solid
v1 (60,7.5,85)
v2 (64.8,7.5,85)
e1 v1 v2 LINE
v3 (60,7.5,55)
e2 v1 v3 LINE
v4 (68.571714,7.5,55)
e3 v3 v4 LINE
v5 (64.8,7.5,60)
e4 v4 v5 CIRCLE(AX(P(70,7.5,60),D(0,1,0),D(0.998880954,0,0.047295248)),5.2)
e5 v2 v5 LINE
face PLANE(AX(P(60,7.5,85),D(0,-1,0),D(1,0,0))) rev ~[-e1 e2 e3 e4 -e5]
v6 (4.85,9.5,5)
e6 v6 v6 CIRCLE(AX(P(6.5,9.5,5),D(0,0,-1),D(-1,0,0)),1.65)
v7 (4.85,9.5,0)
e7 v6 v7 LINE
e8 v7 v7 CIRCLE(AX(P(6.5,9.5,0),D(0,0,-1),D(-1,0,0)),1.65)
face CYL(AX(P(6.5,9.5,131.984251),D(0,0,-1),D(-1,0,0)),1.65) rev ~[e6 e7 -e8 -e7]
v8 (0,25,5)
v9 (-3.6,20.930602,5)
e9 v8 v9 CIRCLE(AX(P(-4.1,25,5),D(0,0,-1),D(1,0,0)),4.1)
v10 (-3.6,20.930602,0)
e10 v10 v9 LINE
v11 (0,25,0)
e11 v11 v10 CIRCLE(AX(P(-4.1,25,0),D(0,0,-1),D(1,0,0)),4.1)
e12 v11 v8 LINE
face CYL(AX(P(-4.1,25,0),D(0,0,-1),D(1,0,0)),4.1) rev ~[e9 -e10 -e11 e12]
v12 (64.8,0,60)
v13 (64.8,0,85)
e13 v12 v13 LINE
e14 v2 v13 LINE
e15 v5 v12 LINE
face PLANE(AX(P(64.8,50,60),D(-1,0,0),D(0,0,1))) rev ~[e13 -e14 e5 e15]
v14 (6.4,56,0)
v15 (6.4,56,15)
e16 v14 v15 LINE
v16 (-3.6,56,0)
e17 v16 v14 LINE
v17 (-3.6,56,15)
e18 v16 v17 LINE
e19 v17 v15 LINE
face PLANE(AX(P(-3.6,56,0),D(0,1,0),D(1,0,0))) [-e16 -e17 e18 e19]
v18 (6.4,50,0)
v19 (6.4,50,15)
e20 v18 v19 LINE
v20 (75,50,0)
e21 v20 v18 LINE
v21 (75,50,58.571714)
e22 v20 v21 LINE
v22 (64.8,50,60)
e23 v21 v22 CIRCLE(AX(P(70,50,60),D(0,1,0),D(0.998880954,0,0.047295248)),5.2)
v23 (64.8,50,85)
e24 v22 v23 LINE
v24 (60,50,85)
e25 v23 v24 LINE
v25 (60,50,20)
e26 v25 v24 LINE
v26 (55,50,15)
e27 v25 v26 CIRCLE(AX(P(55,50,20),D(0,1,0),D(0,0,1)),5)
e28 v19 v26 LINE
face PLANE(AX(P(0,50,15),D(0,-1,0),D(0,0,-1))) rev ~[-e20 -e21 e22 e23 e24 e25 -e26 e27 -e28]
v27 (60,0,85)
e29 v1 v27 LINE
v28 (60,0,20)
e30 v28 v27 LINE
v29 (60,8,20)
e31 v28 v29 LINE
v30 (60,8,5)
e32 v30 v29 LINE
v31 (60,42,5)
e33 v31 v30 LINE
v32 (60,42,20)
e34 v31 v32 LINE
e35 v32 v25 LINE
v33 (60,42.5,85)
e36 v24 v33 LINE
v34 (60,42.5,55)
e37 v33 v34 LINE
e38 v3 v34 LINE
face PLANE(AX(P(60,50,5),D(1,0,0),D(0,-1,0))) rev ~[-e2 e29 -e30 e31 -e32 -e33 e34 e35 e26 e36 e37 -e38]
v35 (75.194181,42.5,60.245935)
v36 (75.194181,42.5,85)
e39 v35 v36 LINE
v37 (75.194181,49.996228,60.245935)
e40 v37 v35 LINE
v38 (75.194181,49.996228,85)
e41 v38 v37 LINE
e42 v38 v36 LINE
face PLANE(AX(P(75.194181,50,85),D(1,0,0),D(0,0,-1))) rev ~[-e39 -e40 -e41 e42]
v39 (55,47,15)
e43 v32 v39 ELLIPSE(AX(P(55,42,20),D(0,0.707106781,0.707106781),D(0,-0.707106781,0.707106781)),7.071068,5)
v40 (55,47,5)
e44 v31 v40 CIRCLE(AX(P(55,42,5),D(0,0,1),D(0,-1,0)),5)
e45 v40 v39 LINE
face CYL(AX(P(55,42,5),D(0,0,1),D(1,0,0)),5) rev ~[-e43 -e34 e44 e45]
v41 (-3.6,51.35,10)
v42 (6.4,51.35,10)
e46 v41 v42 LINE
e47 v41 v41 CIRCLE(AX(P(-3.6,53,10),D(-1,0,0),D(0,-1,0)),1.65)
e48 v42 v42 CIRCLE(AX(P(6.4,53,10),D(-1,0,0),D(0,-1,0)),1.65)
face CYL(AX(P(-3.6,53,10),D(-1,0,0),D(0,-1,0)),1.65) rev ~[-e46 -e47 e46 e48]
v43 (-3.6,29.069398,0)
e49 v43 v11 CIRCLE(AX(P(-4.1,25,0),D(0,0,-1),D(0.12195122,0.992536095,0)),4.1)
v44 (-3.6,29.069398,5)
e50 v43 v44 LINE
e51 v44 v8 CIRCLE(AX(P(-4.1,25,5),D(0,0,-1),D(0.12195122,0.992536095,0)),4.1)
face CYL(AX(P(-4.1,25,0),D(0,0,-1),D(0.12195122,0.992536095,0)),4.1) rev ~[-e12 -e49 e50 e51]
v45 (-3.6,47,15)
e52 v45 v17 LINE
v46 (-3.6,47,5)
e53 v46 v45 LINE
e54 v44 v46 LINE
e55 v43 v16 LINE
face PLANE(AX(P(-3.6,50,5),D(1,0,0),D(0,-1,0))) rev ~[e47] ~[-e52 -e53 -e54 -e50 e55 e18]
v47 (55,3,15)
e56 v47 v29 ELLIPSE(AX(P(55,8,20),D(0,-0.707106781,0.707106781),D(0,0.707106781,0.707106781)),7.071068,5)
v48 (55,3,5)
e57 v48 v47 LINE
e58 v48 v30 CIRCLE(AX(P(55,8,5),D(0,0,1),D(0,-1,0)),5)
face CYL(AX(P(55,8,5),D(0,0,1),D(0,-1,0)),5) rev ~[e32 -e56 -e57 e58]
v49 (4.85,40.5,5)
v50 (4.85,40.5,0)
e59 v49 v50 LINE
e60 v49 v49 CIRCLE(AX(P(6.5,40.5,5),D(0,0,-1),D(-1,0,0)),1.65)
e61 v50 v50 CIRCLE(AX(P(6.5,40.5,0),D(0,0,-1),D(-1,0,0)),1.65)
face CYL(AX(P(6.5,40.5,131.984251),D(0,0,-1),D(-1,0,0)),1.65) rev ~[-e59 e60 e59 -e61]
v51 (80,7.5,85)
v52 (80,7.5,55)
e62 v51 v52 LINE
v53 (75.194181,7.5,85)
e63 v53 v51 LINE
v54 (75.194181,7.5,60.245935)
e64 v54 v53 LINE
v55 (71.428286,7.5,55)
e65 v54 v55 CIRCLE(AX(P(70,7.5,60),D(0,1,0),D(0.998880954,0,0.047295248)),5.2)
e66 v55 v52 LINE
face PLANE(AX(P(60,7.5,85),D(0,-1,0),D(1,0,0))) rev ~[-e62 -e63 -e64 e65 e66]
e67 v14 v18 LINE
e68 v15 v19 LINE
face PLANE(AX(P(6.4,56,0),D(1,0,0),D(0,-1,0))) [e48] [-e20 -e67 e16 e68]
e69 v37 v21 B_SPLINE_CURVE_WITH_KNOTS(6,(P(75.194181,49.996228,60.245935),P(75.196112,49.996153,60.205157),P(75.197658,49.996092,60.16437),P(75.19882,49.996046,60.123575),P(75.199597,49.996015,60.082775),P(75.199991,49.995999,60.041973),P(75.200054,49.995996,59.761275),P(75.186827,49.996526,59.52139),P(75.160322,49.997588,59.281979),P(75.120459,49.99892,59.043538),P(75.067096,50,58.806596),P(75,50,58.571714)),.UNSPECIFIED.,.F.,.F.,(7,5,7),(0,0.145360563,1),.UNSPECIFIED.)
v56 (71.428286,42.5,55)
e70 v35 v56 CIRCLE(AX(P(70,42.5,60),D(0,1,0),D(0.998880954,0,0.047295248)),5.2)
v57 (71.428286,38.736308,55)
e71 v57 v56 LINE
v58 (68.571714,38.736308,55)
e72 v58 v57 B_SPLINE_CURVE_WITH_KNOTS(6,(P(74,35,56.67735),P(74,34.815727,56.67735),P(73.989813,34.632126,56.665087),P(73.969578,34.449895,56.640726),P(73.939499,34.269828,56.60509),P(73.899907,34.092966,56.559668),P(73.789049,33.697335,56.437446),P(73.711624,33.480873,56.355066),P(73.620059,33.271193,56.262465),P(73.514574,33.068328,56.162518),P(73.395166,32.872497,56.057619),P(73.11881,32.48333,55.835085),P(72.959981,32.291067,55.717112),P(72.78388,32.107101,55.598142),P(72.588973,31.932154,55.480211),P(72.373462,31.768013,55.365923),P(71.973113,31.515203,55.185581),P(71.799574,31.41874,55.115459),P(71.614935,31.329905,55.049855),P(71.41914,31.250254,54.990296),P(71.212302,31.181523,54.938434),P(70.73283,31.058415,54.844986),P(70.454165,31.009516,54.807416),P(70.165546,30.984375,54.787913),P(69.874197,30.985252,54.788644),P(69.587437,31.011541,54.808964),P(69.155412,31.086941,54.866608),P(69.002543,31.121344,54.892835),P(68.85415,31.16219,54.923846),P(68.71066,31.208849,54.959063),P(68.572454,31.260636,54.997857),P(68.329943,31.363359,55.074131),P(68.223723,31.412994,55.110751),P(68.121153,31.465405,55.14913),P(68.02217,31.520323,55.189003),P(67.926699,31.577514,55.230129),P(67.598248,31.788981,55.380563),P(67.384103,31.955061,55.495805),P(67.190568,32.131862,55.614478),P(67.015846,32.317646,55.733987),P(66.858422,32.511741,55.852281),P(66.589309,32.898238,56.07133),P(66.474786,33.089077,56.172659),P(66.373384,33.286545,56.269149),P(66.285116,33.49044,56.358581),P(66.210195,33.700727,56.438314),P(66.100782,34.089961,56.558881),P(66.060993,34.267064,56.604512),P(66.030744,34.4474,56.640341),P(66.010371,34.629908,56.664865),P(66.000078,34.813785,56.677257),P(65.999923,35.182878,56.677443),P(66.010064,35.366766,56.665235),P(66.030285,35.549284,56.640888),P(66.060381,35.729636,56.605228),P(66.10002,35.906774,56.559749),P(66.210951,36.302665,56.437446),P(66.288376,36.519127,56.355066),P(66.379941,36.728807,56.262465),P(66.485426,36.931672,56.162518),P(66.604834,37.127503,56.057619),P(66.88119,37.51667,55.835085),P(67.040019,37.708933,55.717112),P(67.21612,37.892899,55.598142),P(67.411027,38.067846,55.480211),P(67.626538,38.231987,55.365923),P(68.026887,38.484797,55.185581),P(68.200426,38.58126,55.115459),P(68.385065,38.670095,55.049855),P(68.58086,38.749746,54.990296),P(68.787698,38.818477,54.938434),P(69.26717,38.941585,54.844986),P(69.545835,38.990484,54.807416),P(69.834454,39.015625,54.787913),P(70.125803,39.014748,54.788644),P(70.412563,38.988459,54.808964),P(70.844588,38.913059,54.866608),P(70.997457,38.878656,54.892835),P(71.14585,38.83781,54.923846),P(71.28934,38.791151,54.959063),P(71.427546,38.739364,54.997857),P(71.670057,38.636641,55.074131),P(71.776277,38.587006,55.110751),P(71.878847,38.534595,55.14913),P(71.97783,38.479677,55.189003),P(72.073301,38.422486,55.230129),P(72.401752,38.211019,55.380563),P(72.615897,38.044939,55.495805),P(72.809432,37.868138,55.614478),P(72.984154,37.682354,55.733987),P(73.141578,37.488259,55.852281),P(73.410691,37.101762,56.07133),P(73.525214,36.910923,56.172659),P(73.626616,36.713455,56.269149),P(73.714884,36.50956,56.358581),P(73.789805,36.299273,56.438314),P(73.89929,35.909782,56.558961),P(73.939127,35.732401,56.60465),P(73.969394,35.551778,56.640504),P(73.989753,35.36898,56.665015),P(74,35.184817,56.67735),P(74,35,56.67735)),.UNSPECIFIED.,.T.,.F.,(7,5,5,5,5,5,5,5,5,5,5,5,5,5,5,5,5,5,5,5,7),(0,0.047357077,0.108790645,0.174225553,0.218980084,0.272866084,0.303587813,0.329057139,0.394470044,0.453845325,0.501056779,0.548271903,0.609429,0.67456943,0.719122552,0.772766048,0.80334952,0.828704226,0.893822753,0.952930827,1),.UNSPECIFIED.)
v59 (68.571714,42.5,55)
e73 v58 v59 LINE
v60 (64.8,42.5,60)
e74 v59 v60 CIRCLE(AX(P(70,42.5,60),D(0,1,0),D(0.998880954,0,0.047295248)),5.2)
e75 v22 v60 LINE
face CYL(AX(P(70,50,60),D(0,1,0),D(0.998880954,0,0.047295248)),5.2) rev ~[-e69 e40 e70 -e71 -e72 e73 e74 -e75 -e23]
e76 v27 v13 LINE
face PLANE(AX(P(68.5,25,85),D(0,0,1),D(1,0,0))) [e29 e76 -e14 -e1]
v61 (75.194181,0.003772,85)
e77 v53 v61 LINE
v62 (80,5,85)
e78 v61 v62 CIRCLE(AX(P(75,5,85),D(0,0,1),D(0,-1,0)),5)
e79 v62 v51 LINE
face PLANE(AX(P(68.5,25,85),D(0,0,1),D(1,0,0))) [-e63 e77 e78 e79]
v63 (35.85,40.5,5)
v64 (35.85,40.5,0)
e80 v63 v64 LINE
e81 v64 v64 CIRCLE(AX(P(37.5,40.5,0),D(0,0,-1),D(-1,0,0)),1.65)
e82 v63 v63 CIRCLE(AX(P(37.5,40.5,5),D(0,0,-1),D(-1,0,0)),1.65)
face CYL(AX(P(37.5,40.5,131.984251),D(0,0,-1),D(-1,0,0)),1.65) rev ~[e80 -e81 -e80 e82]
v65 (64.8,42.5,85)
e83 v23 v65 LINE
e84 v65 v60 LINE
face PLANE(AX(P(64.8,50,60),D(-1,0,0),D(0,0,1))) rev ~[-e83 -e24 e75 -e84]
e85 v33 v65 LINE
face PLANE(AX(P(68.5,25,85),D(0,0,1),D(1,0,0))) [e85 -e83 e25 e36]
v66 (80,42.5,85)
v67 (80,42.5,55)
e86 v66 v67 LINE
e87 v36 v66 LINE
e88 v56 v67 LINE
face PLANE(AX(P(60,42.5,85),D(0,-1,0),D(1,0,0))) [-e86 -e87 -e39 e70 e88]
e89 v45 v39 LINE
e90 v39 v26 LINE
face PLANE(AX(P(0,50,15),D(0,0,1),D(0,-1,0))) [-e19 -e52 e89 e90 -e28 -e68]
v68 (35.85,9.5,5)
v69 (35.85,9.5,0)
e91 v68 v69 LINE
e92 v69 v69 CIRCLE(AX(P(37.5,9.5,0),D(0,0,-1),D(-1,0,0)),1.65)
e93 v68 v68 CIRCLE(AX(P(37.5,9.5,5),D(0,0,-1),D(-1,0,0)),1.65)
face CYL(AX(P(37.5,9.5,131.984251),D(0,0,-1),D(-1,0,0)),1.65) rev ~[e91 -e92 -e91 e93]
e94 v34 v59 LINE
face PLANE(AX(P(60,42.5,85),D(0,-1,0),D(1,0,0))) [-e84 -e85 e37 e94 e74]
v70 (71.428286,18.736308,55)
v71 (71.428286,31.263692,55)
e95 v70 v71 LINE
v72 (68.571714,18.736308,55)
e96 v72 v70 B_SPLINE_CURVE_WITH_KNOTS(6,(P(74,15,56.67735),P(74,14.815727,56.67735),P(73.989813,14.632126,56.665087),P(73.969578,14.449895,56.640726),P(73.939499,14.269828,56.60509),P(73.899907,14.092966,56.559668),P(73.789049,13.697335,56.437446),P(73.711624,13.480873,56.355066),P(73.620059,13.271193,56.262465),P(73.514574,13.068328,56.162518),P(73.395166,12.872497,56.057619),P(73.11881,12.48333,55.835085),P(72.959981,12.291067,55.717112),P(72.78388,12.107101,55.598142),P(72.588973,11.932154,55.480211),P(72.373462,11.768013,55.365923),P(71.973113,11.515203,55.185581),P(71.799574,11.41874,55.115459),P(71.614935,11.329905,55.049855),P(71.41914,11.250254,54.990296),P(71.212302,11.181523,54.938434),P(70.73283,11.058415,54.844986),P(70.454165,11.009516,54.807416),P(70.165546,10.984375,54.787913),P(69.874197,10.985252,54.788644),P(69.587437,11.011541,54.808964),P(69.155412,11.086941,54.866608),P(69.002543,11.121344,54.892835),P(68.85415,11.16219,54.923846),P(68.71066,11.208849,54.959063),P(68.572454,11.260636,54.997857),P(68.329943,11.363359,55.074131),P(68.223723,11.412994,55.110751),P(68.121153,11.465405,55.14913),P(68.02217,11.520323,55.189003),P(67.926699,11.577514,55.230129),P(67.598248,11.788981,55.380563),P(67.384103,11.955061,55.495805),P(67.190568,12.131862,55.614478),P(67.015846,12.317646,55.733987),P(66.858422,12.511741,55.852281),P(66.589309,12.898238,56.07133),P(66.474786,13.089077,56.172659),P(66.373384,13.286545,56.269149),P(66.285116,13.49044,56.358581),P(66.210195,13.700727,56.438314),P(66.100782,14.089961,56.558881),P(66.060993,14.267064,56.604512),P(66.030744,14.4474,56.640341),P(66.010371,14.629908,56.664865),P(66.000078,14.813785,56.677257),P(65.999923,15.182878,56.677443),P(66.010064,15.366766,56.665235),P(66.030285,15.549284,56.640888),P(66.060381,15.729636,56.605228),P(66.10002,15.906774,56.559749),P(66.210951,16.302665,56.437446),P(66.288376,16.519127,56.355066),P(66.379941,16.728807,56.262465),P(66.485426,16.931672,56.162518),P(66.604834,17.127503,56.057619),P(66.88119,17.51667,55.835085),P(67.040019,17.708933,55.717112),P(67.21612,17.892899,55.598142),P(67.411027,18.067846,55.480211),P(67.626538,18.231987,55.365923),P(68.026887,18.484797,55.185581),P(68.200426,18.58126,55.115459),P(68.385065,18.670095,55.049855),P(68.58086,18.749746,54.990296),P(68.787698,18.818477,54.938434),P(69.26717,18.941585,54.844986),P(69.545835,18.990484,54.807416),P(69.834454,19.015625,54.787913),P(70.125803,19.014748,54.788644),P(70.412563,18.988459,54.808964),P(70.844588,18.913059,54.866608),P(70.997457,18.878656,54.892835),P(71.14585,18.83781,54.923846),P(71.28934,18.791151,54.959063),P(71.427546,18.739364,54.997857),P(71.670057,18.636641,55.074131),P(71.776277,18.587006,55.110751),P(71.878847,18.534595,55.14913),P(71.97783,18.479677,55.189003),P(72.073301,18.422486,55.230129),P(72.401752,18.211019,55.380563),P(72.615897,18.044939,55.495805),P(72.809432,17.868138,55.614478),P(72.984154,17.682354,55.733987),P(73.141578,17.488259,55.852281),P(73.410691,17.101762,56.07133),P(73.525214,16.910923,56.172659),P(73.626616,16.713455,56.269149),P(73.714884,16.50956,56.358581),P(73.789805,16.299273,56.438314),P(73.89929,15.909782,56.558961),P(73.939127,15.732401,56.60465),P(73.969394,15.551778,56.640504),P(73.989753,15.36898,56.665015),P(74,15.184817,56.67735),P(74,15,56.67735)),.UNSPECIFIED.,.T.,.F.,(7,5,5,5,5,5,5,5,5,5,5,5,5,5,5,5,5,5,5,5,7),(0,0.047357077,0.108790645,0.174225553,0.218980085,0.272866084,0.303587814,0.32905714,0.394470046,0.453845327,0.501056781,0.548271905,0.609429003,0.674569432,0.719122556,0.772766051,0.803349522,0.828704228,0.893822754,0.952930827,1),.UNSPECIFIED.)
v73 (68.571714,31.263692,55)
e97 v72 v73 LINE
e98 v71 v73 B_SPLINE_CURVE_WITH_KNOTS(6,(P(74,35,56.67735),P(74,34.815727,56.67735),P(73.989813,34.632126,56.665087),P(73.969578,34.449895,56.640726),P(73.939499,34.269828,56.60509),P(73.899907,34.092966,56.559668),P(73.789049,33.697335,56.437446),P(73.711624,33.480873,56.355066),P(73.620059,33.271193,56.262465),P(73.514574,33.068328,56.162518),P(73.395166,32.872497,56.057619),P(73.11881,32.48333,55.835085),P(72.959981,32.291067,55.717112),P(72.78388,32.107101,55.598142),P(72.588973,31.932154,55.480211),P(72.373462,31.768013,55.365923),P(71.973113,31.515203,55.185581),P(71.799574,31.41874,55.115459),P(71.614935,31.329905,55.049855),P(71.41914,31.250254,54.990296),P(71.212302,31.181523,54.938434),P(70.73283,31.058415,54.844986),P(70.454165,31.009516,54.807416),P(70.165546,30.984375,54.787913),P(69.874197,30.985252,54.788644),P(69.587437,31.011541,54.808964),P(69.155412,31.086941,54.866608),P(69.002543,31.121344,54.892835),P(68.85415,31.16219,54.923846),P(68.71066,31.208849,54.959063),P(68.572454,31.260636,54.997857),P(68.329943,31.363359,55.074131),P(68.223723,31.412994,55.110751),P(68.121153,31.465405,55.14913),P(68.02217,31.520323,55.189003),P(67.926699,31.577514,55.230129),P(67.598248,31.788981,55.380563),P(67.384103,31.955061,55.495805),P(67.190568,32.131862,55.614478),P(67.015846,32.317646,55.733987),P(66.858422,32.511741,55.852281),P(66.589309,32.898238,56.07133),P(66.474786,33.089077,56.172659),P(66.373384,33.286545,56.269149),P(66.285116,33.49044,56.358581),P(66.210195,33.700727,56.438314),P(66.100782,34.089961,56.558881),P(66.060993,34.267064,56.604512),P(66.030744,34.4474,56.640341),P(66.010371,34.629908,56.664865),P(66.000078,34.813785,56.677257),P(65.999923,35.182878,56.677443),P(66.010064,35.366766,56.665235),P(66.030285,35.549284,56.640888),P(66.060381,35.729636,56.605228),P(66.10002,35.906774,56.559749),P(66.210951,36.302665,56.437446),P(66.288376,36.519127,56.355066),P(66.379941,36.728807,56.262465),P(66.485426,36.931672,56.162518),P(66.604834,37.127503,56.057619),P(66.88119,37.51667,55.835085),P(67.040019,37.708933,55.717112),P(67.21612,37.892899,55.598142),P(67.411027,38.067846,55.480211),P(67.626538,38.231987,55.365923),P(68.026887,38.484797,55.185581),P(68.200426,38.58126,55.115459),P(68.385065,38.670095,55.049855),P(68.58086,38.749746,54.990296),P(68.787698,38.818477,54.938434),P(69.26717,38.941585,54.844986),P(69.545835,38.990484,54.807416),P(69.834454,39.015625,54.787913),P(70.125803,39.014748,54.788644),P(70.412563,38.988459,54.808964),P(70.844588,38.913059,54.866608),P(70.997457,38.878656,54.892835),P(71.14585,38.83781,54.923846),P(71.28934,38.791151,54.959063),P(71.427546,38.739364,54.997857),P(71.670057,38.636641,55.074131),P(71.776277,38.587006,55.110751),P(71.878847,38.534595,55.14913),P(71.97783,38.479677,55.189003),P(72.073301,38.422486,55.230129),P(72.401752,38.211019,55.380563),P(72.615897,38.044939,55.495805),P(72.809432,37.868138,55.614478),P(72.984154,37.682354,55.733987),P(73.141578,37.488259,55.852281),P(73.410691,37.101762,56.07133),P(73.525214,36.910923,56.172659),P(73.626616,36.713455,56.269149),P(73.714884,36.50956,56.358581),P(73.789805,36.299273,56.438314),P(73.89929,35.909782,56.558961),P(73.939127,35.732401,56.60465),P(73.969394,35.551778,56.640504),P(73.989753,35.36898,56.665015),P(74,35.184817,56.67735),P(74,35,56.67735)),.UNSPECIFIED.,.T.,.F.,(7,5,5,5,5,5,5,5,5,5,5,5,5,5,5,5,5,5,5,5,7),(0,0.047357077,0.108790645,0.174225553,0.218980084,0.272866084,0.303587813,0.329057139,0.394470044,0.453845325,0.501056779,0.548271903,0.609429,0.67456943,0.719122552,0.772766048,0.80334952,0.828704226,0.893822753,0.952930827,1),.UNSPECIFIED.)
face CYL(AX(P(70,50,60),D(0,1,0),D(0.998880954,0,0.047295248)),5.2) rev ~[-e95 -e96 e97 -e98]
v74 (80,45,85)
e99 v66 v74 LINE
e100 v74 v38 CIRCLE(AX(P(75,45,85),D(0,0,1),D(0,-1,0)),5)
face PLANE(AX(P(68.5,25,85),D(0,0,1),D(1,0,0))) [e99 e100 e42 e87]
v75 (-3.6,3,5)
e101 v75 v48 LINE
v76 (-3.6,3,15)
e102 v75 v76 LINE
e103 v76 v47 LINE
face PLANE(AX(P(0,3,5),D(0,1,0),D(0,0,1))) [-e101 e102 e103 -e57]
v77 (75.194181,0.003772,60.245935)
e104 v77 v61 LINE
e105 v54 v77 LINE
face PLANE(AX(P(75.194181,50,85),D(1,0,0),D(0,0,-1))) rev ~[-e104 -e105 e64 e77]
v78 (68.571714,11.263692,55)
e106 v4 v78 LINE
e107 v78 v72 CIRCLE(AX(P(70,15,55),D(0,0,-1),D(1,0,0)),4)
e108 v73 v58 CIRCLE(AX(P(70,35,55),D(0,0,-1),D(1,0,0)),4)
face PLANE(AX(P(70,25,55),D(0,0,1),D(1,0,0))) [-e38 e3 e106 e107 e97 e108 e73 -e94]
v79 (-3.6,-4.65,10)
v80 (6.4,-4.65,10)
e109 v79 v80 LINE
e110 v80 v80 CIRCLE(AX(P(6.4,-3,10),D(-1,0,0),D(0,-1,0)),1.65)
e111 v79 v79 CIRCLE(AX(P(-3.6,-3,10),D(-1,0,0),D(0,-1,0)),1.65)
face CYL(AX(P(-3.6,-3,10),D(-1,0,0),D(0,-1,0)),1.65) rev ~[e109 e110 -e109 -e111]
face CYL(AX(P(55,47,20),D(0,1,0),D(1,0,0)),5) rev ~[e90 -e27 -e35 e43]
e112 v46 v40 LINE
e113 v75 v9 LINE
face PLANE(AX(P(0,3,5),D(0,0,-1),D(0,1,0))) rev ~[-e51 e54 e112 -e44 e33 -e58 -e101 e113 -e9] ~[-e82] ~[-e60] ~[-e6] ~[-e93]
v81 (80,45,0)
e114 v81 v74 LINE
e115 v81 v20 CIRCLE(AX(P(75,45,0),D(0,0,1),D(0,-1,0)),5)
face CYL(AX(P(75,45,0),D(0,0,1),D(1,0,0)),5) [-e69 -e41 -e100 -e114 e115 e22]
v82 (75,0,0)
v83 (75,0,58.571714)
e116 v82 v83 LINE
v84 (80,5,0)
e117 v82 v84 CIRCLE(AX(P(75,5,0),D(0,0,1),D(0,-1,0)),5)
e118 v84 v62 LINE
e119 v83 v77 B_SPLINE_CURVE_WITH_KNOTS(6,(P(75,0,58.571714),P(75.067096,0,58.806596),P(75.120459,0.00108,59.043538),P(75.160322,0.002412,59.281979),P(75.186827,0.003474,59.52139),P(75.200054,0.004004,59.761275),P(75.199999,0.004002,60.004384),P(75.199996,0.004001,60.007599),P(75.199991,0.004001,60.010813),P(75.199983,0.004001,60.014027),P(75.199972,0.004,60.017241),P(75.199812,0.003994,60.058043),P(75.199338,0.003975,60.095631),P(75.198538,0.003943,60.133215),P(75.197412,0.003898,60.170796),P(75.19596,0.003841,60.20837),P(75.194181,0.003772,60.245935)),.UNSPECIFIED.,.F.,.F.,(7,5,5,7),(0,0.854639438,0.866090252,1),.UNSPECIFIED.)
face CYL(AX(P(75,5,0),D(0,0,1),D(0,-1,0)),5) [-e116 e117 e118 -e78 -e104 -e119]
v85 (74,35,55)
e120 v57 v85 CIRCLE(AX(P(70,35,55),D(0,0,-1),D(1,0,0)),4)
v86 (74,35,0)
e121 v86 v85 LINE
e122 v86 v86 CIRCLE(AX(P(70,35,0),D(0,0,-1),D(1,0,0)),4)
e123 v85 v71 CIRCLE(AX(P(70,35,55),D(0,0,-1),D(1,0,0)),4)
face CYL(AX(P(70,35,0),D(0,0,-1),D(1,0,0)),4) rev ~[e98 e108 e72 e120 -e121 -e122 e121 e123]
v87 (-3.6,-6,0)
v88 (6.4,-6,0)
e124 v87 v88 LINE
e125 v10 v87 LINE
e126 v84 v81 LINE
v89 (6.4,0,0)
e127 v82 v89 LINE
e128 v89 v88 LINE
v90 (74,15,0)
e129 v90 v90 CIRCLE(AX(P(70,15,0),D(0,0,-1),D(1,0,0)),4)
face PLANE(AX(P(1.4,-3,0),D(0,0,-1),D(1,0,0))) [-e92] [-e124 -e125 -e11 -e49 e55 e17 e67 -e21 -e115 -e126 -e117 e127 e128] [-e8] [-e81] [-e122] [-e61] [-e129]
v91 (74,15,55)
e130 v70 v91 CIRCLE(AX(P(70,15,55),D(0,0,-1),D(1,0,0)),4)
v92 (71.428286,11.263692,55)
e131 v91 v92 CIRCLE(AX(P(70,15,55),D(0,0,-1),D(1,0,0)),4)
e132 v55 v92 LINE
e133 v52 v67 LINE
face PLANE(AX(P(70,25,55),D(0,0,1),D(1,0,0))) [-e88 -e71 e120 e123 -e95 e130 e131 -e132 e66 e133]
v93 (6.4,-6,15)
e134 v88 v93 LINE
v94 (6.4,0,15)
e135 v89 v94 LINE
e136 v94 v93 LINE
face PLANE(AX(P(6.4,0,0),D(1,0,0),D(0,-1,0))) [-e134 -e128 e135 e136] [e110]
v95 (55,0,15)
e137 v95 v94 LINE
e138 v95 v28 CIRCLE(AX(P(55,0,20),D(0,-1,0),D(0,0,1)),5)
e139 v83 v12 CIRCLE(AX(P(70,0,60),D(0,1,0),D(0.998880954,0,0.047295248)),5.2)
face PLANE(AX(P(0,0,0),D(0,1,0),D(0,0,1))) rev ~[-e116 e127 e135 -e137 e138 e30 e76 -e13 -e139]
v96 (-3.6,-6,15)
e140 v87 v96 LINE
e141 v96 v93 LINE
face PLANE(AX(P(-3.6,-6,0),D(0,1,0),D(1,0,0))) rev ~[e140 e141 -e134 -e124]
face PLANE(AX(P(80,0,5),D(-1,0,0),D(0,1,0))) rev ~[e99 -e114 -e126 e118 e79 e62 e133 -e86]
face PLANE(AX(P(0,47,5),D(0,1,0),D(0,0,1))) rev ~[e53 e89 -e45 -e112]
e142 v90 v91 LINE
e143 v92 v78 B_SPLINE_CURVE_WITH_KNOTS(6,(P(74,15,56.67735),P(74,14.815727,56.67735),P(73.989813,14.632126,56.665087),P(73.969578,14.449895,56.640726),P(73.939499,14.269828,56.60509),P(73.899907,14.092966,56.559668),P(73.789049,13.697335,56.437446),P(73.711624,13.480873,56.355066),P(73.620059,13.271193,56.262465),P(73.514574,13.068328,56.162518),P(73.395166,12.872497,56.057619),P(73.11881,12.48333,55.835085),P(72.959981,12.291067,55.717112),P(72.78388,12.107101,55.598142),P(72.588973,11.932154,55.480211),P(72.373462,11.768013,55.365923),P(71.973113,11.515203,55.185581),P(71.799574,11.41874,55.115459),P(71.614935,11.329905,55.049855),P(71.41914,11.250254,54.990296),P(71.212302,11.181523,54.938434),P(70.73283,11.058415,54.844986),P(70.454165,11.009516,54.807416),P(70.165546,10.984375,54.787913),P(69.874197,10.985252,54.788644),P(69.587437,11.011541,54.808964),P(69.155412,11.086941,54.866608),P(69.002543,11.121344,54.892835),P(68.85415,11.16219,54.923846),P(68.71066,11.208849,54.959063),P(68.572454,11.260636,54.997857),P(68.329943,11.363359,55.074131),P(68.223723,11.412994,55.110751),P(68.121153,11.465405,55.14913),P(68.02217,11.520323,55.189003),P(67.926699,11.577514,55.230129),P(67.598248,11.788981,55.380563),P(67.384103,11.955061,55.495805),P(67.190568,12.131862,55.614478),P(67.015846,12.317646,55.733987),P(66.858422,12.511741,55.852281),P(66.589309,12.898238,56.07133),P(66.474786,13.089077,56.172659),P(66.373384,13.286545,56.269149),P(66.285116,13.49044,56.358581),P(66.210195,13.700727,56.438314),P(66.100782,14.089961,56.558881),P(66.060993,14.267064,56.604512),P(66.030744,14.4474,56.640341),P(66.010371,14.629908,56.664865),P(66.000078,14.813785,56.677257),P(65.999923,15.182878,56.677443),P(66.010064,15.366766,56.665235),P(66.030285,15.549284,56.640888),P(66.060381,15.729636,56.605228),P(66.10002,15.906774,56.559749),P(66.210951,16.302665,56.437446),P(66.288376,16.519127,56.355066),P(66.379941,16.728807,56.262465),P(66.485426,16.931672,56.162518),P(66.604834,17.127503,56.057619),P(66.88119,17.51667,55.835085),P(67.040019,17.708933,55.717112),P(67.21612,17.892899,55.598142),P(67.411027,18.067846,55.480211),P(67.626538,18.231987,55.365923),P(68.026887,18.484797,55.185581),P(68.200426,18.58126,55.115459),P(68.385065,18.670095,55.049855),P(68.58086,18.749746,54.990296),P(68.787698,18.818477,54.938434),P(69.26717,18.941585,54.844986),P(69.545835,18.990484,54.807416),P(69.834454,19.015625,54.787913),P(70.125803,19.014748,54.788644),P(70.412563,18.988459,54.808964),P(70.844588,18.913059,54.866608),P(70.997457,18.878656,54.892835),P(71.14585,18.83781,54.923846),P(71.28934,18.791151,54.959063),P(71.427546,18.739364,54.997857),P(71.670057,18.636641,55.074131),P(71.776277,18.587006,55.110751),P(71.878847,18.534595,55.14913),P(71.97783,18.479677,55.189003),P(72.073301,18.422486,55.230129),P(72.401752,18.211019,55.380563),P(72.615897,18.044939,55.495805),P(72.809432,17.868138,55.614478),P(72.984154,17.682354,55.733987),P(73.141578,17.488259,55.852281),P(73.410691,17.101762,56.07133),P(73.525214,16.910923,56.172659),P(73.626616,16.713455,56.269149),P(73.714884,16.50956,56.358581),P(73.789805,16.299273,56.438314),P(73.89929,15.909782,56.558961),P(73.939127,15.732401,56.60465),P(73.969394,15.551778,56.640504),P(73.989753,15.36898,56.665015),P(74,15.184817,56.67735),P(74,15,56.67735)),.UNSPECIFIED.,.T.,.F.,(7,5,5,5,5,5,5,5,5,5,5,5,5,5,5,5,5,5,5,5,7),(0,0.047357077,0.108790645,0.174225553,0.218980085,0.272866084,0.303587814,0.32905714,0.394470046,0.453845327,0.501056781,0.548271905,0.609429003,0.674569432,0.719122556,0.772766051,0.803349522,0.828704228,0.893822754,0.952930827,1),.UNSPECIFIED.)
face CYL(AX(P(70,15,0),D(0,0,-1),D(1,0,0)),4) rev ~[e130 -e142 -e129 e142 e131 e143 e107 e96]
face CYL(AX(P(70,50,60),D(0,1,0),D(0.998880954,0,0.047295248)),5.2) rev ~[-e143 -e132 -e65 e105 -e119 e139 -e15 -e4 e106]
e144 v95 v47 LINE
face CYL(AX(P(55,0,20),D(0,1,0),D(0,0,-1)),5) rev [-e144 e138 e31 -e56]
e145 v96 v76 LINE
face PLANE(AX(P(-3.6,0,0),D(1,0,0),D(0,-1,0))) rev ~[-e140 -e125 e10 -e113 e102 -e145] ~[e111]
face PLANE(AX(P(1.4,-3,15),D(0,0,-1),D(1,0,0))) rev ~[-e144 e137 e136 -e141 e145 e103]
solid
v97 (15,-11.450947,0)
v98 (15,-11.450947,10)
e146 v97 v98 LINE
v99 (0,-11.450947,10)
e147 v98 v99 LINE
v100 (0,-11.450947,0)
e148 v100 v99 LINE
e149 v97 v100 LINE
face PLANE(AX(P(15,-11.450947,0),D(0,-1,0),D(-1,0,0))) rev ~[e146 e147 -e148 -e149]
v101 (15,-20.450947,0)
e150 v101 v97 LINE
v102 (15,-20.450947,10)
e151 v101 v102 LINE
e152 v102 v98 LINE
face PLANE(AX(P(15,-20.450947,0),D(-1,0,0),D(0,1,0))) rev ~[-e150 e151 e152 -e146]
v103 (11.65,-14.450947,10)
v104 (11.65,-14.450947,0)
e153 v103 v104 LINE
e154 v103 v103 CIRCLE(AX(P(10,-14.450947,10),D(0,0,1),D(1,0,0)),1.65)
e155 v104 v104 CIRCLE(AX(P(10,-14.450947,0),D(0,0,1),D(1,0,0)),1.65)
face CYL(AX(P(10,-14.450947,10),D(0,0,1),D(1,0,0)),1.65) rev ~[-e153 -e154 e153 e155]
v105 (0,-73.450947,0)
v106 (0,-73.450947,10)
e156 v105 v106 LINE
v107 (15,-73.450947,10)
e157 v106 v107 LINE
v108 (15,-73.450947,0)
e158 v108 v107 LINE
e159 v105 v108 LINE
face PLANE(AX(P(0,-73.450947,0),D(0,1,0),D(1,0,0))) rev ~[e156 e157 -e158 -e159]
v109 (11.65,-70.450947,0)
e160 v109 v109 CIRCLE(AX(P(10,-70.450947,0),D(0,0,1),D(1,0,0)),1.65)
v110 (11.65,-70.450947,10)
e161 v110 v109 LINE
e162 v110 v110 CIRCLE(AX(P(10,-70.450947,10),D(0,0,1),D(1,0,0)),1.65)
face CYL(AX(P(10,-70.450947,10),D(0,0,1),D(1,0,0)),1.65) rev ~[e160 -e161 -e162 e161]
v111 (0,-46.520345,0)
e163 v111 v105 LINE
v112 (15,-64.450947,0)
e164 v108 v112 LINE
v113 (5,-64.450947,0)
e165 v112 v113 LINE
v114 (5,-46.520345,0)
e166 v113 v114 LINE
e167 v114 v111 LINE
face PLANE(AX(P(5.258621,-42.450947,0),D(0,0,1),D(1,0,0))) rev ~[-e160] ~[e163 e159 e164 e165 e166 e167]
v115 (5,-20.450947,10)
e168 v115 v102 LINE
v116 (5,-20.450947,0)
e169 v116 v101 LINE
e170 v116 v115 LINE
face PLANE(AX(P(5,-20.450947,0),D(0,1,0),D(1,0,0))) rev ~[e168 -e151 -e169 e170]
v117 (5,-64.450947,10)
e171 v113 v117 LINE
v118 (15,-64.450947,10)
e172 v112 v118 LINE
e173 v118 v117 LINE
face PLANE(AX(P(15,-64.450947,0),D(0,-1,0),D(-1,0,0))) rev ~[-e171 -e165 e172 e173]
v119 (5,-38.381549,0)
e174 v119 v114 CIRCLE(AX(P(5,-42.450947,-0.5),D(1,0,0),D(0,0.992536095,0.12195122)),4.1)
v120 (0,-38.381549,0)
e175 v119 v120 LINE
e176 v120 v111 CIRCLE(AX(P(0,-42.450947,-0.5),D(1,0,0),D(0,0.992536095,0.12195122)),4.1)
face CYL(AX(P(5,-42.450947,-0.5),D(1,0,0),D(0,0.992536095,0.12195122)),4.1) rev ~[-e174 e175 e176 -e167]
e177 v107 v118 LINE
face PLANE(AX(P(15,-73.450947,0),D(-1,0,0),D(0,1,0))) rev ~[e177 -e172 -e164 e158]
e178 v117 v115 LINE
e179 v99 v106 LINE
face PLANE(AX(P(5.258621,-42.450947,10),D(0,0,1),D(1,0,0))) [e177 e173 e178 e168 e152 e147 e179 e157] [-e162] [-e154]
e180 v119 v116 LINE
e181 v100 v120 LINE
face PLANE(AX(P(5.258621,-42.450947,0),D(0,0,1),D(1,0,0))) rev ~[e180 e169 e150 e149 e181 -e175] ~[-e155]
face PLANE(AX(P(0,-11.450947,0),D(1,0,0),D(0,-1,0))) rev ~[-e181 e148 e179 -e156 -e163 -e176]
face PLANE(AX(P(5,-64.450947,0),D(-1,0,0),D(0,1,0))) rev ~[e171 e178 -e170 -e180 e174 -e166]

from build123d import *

# Parameters (mm, degrees)
F0_W      = 80
F0_H      = 50
F1_DEPTH  = 5
F3_DEPTH  = 10
F2_W      = 17
F2_H      = 44
F4_DEPTH  = 80
F5_D      = 3.3
F6_DEPTH  = 3.6
F8_DEPTH  = 25
F7_W      = 10
F7_H      = 6
F9_DEPTH  = 15
F10_R     = 1.65
F11_DEPTH = 25
F13_DEPTH = 10
F15_DEPTH = 25
F16_R     = 1.65
F17_DEPTH = 25
F19_W     = 20
F19_H     = 35
F20_DEPTH = 30
F21_DEPTH = 80
F22_R     = 4
F23_DEPTH = 60
F24_R     = 5


with BuildPart() as f1:
    # F0 (on Top) → F1 (new body)
    with BuildSketch(Plane.XY):
        with Locations((40, 25)):
            Rectangle(F0_W, F0_H)
    extrude(amount=F1_DEPTH)

    # F2 (on face) → F3 (join)
    with BuildSketch(Plane.XY.offset(5)):
        Polygon((0, 47), (3, 47), (60, 47), (60, 50), (0, 50), align=None)
        Polygon((60, 0), (60, 3), (3, 3), (0, 3), (0, 0), align=None)
    extrude(amount=F3_DEPTH)

    # F2 (on face) → F4 (join)
    with BuildSketch(Plane.XY.offset(5)):
        with Locations((68.5, 25)):
            Rectangle(F2_W, F2_H)
        Polygon((60, 50), (60, 47), (77, 47), (77, 3), (60, 3), (60, 0), (80, 0), (80, 50), align=None)
    extrude(amount=F4_DEPTH)

    # F5 (through all)
    with Locations(Plane.XY.offset(5)):
        with Locations((37.5, 40.5), (37.5, 9.5), (6.5, 9.5), (6.5, 40.5)):
            Hole(F5_D / 2)

    # F6 (add): a face of the model
    f6_faces = [f1.faces().sort_by_distance(p)[0] for p in [
        (0, 25, 3.9516129032),
    ]]
    extrude(f6_faces, amount=F6_DEPTH)

    # F7 (on face) → F8 (cut)
    with BuildSketch(Plane(origin=(0, 0, 0), x_dir=(1, 0, 0), z_dir=(0, 0, -1))):
        with BuildLine():
            ThreePointArc((-3.6, -29.0693979899), (-1.0291694934, -27.7166155414), (0, -25))
            ThreePointArc((0, -25), (-1.0291694934, -22.2833844586), (-3.6, -20.9306020101))
            Line((-3.6, -20.9306020101), (-3.6, -25))
            Line((-3.6, -25), (-3.6, -29.0693979899))
        make_face()
    extrude(amount=-F8_DEPTH, mode=Mode.SUBTRACT)

    # F7 (on face) → F9 (join)
    with BuildSketch(Plane(origin=(0, 0, 0), x_dir=(1, 0, 0), z_dir=(0, 0, -1))):
        with Locations((1.4, 3)):
            Rectangle(F7_W, F7_H)
        with Locations((1.4, -53)):
            Rectangle(F7_W, F7_H)
    extrude(amount=-F9_DEPTH)

    # F10 (on face) → F11 (cut)
    with BuildSketch(Plane(origin=(-3.6, 0, 0), x_dir=(0, -1, 0), z_dir=(-1, 0, 0))):
        with Locations((3, 10)):
            Circle(F10_R)
        with Locations((-53, 10)):
            Circle(F10_R)
    extrude(amount=-F11_DEPTH, mode=Mode.SUBTRACT)

    # F19 (on face) → F20 (cut)
    with BuildSketch(Plane.XY.offset(85)):
        with Locations((70, 25)):
            Rectangle(F19_W, F19_H)
    extrude(amount=-F20_DEPTH, mode=Mode.SUBTRACT)

    # F18 (on face) → F21 (cut)
    with BuildSketch(Plane(origin=(0, 50, 0), x_dir=(-1, 0, 0), z_dir=(0, 1, 0))):
        with BuildLine():
            ThreePointArc((-75.1941809589, 60.2459352893), (-70.1230020607, 54.8014549638), (-64.8, 60))
            ThreePointArc((-64.8, 60), (-69.8769979393, 65.1985450362), (-75.1941809589, 60.2459352893))
        make_face()
        with BuildLine():
            ThreePointArc((-75.1941809589, 60.2459352893), (-69.8769979393, 65.1985450362), (-64.8, 60))
            Line((-64.8, 60), (-64.8, 85))
            Line((-64.8, 85), (-75.1941809589, 85))
            Line((-75.1941809589, 85), (-75.1941809589, 60.2459352893))
        make_face()
    extrude(amount=-F21_DEPTH, mode=Mode.SUBTRACT)

    # F22 (on face) → F23 (cut)
    with BuildSketch(Plane(origin=(0, 0, 0), x_dir=(1, 0, 0), z_dir=(0, 0, -1))):
        with Locations((70, -15)):
            Circle(F22_R)
        with Locations((70, -35)):
            Circle(F22_R)
    extrude(amount=-F23_DEPTH, mode=Mode.SUBTRACT)

    # F24
    f24_edges = [f1.edges().sort_by_distance(p)[0] for p in [
        (80, 50, 42.5),
        (80, 0, 42.5),
        (60, 47, 10),
        (60, 3, 10),
        (60, 1.5, 15),
        (60, 48.5, 15),
    ]]
    fillet(f24_edges, radius=F24_R)


with BuildPart() as f13:
    # F12 (on Top) → F13 (new body)
    with BuildSketch(Plane.XY):
        Polygon((15, -11.4509467413), (0, -11.4509467413), (0, -73.4509467413), (15, -73.4509467413), (15, -64.4509467413), (5, -64.4509467413), (5, -42.4509467413), (5, -20.4509467413), (15, -20.4509467413), align=None)
    extrude(amount=F13_DEPTH)

    # F14 (on face) → F15 (cut)
    with BuildSketch(Plane.YZ.offset(5)):
        with BuildLine():
            Line((-46.5203447312, 0), (-38.3815487515, 0))
            ThreePointArc((-38.3815487515, 0), (-42.4509467413, 3.6), (-46.5203447312, 0))
        make_face()
    extrude(amount=-F15_DEPTH, mode=Mode.SUBTRACT)

    # F16 (on face) → F17 (cut)
    with BuildSketch(Plane.XY.offset(10)):
        with Locations((10, -14.4509467413)):
            Circle(F16_R)
        with Locations((10, -70.4509467413)):
            Circle(F16_R)
    extrude(amount=-F17_DEPTH, mode=Mode.SUBTRACT)


solid = Compound([f1.part, f13.part])
